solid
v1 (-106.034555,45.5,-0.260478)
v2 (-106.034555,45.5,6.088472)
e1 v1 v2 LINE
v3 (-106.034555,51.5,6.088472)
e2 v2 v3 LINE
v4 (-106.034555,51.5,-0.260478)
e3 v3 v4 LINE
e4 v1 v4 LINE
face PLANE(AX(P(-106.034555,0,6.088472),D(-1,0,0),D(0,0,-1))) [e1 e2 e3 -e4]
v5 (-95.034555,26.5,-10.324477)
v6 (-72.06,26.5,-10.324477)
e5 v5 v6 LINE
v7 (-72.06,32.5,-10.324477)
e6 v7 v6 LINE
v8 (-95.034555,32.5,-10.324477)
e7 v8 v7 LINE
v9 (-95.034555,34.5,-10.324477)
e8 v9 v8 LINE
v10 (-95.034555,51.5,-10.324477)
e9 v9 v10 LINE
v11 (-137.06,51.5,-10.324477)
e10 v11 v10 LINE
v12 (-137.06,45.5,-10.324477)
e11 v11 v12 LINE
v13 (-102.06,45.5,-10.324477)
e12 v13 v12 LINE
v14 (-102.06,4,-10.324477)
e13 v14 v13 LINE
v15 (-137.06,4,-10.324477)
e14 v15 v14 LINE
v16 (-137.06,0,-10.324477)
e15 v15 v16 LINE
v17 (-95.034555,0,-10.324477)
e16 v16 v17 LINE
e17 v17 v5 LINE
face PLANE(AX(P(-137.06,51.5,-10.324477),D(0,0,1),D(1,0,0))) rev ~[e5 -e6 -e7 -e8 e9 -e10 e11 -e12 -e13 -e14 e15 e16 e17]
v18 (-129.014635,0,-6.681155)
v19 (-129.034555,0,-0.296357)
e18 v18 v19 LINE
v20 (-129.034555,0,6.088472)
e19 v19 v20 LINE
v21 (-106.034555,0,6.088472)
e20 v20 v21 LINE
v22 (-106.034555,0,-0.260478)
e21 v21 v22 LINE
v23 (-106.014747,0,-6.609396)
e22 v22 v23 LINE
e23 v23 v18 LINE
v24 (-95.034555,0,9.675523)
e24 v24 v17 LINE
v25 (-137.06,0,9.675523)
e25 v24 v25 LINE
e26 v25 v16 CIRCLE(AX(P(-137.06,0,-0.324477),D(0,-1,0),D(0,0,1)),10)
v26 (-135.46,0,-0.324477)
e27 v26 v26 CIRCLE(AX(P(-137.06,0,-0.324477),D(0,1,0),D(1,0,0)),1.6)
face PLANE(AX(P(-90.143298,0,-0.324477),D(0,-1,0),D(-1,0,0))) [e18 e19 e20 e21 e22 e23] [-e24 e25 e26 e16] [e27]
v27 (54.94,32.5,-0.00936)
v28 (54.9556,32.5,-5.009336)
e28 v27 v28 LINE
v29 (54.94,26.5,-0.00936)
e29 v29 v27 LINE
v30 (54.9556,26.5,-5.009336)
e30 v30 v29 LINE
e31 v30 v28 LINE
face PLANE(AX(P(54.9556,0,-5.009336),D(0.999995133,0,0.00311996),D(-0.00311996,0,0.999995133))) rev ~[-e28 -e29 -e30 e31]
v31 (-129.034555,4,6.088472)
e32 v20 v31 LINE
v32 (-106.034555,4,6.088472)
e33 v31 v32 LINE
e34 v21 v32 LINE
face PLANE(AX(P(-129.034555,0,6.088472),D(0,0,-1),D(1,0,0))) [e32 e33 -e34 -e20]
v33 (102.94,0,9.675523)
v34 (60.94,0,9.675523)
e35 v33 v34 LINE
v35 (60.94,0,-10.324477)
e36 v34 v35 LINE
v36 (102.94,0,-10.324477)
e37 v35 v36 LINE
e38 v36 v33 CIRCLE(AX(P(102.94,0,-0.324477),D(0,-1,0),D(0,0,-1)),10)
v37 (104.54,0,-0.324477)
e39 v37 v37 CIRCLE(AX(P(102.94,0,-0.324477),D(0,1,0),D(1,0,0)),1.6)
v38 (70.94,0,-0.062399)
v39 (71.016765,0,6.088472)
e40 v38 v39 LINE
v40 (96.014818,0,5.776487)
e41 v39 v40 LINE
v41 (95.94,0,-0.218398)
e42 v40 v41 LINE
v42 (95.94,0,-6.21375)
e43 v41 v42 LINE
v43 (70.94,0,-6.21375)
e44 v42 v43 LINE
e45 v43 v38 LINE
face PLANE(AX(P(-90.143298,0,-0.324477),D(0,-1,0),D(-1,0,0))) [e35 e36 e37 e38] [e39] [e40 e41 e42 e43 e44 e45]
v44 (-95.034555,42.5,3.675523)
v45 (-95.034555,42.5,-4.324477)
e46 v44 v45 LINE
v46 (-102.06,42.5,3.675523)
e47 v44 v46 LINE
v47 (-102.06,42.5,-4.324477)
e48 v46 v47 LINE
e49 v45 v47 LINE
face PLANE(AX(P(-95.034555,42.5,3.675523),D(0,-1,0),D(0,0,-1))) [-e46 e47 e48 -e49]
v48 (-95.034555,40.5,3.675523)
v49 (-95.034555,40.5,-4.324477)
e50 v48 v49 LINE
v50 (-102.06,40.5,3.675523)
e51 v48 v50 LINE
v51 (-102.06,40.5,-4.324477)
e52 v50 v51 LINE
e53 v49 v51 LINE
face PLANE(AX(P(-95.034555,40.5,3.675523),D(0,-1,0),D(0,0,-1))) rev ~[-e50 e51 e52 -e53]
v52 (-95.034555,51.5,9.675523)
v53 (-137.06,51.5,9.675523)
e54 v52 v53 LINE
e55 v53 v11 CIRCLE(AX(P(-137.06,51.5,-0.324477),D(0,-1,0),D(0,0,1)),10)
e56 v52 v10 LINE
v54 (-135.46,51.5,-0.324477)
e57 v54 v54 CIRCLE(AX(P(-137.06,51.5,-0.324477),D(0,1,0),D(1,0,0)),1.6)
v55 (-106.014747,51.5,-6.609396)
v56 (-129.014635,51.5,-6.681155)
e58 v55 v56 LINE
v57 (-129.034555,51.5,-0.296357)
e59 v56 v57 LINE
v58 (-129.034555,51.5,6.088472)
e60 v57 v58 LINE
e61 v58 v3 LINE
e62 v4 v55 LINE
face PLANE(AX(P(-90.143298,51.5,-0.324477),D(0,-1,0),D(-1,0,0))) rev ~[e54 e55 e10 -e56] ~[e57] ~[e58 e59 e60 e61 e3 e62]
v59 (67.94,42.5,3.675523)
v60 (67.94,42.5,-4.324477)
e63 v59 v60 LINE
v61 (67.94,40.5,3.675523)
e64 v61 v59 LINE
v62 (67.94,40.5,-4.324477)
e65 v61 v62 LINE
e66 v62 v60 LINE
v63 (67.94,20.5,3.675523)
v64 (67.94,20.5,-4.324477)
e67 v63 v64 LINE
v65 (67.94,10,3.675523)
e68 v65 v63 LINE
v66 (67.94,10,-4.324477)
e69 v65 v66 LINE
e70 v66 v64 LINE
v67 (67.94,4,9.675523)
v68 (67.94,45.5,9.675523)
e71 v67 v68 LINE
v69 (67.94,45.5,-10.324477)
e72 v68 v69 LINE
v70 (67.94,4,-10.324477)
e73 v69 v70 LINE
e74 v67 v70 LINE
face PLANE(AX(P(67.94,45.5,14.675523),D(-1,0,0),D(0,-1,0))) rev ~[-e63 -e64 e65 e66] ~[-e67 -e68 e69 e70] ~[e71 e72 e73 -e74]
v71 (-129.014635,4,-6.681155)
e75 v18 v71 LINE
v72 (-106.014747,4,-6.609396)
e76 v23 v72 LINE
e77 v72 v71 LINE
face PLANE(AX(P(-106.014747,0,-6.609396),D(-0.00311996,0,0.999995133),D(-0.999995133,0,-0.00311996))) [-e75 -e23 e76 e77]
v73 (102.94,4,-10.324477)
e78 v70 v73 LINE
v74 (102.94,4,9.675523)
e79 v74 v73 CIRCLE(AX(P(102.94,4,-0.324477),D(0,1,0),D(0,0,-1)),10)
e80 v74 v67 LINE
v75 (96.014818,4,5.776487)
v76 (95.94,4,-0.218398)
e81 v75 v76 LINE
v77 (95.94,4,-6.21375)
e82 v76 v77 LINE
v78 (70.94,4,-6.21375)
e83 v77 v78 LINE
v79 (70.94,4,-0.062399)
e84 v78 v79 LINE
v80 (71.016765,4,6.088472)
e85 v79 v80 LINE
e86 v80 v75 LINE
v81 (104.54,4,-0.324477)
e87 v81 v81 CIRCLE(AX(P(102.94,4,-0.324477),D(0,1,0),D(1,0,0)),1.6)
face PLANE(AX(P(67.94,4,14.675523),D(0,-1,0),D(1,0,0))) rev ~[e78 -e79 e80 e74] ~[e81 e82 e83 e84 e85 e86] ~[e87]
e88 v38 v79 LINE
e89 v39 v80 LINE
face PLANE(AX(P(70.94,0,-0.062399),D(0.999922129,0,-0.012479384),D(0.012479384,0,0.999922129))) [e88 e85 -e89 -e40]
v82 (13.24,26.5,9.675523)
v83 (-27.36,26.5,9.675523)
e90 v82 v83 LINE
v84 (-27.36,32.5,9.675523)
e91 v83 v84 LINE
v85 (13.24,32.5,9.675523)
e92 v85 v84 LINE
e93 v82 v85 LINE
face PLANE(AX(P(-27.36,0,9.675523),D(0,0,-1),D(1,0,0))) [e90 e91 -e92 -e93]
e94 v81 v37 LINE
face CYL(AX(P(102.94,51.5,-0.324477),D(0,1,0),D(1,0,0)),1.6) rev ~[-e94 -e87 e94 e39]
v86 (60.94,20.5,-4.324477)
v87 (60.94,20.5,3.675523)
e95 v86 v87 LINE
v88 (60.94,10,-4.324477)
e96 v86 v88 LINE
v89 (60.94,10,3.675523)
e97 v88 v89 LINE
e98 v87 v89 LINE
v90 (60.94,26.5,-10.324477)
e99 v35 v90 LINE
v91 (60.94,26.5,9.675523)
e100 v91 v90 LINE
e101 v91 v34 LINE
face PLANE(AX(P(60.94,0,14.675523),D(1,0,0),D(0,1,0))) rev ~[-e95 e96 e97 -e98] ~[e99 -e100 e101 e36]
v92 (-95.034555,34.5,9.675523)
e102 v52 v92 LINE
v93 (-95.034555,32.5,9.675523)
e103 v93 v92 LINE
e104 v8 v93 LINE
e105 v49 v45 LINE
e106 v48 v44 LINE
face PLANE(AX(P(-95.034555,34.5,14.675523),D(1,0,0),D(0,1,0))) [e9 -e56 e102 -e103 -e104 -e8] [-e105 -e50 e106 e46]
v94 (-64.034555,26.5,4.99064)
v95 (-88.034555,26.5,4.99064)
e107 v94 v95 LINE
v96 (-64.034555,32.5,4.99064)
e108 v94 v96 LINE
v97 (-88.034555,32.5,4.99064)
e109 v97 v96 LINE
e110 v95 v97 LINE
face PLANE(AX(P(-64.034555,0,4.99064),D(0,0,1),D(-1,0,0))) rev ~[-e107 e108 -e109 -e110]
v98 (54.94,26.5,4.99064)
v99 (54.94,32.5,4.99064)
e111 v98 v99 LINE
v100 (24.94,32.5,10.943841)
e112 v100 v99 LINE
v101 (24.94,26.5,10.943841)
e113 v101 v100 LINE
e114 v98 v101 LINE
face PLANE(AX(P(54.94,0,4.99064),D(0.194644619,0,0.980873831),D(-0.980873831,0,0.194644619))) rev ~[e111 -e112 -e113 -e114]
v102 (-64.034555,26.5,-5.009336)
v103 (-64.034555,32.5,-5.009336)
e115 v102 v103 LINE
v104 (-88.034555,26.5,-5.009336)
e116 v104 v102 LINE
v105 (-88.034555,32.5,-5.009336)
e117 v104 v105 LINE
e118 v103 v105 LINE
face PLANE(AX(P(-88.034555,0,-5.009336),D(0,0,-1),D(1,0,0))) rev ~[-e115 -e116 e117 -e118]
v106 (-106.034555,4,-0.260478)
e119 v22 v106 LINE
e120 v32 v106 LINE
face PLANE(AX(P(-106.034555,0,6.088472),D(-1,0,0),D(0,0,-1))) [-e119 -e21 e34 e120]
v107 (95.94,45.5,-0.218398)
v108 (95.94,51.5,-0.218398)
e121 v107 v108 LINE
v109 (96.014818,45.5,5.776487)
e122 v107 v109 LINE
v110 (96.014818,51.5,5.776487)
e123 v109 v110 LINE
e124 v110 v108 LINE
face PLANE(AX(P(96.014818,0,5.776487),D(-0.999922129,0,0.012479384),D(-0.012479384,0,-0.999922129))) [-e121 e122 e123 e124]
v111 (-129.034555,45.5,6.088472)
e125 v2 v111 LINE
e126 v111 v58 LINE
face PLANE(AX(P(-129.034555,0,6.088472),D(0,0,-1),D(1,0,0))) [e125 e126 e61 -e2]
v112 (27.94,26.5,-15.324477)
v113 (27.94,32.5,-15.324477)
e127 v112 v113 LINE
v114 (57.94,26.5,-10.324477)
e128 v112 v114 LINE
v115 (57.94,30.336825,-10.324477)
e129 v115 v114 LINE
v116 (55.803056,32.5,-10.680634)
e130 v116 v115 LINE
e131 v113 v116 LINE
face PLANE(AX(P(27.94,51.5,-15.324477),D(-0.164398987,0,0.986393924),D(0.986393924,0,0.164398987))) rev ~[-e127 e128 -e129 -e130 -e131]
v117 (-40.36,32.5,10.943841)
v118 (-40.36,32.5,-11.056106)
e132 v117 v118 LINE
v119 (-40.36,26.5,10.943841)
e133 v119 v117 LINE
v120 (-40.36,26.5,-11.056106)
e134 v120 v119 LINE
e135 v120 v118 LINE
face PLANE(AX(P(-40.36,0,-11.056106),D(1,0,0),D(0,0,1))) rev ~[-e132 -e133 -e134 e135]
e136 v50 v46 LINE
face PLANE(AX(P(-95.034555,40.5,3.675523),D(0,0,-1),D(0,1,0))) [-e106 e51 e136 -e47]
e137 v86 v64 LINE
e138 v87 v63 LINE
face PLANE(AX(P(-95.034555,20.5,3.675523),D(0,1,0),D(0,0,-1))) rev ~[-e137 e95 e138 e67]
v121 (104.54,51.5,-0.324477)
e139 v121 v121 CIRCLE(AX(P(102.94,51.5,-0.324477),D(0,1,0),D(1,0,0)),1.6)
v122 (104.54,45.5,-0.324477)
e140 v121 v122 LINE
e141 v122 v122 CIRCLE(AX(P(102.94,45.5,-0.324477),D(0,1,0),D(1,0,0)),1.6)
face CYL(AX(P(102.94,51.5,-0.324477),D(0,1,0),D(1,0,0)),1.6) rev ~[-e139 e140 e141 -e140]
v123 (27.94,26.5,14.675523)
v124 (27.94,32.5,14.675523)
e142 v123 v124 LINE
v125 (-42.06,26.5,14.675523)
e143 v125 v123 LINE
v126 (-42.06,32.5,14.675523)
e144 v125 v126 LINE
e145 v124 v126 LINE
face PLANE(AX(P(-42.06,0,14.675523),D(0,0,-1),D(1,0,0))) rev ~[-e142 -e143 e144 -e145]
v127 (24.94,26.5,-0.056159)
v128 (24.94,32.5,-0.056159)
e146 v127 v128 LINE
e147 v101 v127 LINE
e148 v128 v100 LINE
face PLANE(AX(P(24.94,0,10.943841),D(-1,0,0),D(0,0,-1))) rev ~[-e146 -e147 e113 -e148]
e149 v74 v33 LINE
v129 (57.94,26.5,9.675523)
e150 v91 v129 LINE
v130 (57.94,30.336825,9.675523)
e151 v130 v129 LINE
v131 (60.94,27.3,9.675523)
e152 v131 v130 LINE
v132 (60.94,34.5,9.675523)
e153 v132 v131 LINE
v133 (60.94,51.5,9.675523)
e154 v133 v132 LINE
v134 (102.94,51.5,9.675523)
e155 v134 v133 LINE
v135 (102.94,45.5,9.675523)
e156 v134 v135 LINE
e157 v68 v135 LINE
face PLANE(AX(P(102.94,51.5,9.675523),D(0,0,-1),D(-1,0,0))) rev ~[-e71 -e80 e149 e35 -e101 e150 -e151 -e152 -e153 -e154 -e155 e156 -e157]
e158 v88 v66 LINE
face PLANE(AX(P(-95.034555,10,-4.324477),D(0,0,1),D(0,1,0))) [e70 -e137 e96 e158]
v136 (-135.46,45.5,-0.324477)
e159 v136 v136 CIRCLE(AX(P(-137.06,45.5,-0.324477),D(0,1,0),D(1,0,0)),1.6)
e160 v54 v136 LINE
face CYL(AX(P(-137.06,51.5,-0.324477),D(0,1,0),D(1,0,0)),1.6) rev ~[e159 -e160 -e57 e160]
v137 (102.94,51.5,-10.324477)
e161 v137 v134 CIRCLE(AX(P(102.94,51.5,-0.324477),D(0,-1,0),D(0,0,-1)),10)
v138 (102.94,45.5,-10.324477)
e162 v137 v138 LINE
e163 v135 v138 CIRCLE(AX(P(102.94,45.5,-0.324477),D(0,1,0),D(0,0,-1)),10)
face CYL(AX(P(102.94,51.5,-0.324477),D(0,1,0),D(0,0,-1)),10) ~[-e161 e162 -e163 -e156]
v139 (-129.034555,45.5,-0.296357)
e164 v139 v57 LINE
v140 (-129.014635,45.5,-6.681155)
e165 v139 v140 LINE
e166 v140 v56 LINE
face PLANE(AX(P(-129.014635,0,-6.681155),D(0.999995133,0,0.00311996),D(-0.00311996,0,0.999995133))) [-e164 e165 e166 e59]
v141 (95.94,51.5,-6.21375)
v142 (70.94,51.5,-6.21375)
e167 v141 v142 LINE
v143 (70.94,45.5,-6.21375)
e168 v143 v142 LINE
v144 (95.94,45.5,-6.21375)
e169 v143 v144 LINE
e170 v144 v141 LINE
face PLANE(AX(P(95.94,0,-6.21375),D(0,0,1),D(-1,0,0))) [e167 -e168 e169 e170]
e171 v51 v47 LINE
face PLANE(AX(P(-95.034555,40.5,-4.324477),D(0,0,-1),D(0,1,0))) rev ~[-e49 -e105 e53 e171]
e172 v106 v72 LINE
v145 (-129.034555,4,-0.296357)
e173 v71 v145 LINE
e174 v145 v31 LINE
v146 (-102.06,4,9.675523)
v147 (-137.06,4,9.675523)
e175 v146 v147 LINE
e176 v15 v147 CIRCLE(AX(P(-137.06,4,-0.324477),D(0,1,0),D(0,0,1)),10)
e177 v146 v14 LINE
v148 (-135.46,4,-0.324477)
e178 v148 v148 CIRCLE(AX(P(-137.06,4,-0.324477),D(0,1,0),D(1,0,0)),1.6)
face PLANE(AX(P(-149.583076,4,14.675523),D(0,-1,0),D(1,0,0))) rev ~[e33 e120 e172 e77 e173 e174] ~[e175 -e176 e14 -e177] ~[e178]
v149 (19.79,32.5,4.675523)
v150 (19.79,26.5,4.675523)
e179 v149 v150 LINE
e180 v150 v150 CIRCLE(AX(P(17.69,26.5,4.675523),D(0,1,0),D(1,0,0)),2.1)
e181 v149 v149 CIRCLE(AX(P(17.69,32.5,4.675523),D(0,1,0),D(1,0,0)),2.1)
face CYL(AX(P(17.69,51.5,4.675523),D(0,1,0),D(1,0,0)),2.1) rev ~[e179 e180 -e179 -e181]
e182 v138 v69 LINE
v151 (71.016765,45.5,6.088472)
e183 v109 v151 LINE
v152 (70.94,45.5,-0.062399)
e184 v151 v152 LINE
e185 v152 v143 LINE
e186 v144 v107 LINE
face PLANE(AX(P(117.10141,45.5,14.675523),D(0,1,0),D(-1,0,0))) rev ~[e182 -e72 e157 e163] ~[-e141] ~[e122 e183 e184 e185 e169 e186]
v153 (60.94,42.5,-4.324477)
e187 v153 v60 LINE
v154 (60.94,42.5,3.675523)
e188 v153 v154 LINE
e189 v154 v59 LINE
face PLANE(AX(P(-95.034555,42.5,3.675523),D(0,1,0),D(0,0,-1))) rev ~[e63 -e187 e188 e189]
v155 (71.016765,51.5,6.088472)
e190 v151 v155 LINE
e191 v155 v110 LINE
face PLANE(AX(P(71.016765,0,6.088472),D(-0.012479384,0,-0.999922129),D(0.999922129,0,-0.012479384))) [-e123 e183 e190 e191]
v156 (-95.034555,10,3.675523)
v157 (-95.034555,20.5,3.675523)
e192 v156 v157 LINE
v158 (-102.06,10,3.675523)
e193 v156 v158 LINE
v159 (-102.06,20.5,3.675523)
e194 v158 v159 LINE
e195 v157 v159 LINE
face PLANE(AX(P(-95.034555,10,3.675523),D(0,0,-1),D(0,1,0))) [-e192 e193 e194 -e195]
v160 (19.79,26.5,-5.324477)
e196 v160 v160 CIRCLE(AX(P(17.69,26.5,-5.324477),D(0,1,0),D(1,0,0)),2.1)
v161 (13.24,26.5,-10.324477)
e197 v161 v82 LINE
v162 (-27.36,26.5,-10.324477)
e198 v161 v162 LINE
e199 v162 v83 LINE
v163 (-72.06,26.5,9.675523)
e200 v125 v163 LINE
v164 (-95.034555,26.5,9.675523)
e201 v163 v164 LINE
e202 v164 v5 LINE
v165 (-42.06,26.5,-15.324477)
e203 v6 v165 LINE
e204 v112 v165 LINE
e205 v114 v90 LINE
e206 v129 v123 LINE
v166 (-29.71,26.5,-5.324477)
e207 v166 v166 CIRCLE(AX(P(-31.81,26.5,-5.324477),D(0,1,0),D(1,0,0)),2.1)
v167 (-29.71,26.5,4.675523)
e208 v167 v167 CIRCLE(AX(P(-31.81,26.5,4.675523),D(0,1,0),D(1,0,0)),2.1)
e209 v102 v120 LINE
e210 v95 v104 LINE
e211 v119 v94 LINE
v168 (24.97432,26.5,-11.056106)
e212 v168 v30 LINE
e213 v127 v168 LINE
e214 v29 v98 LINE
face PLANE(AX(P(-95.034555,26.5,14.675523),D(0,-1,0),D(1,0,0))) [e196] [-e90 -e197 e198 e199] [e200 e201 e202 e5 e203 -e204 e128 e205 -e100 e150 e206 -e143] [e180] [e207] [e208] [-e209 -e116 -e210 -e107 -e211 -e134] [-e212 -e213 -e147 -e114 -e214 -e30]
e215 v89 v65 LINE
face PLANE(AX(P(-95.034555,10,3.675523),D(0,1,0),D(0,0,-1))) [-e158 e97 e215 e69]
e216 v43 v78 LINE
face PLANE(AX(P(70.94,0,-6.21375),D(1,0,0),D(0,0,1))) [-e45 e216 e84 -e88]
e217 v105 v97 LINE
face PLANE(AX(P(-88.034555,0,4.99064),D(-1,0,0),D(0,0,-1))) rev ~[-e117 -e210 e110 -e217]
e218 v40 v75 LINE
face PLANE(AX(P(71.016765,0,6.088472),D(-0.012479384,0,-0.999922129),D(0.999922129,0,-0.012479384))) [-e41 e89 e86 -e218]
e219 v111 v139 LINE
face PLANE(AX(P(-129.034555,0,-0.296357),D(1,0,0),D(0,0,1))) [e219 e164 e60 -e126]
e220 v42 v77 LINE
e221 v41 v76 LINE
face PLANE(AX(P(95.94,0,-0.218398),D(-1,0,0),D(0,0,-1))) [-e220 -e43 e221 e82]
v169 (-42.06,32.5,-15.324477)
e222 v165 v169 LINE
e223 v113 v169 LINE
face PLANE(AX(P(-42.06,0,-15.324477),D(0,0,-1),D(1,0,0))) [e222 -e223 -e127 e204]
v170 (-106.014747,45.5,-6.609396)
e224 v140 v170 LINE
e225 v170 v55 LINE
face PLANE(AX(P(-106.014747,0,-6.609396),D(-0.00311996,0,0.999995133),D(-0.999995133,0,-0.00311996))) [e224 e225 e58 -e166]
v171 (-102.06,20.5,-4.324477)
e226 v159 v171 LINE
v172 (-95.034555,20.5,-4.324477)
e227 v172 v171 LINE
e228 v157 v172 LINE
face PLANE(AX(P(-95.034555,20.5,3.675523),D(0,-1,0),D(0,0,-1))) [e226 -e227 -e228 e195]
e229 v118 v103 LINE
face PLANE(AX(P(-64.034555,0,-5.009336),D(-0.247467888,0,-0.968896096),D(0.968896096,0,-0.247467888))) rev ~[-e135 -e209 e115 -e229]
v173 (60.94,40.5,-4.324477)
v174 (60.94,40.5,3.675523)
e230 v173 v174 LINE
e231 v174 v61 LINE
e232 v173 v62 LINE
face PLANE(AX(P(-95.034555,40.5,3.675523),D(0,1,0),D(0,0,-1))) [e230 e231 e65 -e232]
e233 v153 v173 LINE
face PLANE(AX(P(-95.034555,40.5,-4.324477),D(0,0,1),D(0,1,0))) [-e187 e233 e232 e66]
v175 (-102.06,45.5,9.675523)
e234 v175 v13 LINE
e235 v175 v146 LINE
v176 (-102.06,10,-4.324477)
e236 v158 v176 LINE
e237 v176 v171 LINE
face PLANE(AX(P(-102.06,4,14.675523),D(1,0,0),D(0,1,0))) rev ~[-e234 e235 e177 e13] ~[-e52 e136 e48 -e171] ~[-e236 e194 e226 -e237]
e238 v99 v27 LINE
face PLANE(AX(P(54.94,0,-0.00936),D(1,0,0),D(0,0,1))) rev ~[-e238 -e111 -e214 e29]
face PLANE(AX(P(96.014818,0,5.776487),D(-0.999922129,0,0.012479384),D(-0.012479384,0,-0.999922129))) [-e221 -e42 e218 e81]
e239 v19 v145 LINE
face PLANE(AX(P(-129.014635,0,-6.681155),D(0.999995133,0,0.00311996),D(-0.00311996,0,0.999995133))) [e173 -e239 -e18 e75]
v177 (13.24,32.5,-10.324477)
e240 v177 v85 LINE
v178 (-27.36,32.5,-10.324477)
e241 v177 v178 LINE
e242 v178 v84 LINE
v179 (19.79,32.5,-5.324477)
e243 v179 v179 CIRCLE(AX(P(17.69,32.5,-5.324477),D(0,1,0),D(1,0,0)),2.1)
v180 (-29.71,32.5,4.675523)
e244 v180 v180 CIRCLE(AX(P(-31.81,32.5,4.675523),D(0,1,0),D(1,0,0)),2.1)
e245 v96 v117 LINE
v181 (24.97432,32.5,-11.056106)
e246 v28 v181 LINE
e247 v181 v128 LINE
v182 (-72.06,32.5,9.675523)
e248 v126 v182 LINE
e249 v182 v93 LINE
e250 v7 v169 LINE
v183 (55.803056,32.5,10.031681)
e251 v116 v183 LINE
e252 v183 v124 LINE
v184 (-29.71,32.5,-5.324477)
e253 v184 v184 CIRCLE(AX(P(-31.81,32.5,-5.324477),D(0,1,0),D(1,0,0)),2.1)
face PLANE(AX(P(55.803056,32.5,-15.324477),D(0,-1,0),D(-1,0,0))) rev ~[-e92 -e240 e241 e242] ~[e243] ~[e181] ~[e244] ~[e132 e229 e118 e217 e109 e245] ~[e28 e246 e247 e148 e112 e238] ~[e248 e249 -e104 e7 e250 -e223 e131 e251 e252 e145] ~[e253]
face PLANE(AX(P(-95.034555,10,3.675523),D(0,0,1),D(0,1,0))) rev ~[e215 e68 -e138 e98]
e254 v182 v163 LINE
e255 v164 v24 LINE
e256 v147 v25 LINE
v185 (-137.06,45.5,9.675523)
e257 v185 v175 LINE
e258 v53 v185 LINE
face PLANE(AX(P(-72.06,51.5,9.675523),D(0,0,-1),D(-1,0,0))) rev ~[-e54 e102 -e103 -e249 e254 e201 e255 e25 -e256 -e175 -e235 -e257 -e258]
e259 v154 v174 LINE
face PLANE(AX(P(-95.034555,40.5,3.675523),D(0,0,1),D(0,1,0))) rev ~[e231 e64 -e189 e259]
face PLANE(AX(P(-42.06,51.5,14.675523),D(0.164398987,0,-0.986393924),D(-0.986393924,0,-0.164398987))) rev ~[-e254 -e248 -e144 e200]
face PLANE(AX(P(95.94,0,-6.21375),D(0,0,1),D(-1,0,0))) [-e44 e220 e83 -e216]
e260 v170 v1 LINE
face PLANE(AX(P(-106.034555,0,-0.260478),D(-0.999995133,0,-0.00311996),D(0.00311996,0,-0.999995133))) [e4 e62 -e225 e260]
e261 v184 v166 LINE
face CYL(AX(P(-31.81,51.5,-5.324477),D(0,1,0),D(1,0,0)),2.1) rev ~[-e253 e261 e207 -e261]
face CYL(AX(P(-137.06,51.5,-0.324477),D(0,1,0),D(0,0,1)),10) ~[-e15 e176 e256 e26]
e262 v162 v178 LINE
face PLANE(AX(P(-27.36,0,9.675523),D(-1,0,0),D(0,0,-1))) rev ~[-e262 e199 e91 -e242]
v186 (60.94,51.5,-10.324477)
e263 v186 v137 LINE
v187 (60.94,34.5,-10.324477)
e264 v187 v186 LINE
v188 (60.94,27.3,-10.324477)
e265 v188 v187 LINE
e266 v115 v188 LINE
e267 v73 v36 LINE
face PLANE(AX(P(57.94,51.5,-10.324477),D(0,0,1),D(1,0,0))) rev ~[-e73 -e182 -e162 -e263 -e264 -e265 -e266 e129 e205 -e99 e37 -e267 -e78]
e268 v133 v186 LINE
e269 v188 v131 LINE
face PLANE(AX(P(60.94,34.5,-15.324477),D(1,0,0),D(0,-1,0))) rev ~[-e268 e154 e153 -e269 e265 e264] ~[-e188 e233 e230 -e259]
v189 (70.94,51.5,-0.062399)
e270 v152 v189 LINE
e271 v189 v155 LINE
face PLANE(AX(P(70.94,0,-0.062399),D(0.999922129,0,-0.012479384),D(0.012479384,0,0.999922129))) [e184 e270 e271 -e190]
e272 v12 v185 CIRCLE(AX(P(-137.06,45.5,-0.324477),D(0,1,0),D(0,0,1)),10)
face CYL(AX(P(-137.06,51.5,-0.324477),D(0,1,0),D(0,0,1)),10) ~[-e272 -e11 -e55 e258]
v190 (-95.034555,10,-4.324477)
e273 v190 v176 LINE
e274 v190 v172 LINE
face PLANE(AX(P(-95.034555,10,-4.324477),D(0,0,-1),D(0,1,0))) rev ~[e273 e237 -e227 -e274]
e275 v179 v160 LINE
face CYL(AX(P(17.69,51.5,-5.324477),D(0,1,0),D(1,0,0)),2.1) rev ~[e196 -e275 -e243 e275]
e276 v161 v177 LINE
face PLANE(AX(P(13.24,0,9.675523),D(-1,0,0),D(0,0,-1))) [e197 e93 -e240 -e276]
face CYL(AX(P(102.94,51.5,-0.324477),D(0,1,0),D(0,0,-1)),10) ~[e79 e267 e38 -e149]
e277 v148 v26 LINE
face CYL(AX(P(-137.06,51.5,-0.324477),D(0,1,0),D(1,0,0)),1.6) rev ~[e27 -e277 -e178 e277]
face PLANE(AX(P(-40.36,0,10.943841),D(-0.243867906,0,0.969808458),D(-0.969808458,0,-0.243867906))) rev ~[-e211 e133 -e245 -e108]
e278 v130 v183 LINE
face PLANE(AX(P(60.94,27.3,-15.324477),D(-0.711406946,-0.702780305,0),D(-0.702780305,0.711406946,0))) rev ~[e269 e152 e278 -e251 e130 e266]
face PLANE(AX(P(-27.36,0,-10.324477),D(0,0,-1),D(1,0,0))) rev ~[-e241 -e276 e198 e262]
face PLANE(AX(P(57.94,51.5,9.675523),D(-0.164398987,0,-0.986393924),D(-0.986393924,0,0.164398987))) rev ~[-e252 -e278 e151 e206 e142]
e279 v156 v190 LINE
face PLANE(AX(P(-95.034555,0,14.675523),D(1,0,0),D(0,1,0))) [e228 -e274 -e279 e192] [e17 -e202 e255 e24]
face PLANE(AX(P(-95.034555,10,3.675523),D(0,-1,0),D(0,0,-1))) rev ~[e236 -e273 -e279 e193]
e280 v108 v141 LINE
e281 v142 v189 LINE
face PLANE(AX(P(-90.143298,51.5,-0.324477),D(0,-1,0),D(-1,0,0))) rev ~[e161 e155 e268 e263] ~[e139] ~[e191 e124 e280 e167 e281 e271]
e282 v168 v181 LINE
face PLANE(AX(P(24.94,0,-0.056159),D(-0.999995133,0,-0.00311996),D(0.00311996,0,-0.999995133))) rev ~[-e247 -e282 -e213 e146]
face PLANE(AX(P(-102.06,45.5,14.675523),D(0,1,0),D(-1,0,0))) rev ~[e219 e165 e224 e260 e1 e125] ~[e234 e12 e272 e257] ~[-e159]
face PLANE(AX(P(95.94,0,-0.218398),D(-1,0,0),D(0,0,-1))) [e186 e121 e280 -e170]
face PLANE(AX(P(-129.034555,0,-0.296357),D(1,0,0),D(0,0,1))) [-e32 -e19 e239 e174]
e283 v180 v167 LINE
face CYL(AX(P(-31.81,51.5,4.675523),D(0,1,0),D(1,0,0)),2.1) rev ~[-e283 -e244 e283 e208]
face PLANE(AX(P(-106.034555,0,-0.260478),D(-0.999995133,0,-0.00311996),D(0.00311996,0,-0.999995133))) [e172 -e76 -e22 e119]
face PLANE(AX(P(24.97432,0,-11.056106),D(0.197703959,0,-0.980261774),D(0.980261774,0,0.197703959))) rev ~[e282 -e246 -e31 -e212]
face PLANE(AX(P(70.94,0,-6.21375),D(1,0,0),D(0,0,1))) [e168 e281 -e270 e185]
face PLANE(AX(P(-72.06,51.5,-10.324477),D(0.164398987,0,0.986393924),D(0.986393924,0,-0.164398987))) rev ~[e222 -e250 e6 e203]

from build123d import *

# Parameters (mm, degrees)
SKETCH_1_W                = 70
SKETCH_1_H                = 30
SKETCH_1_W_2              = 40.6
SKETCH_1_H_2              = 20
EXTRUDE_1_DEPTH           = 51.5
SKETCH_2_R                = 2.1
CUT_EXTRUDE_1_DEPTH       = 52.5
SKETCH_3_R                = 1.6
EXTRUDE_2_DEPTH           = 51.5
SKETCH_17_W               = 155.974555081
SKETCH_17_H               = 17
SKETCH_17_H_2             = 26.5
CUT_EXTRUDE_8_DEPTH       = 31
CUT_EXTRUDE_9_DEPTH       = 52.5
SKETCH_20_W               = 8
SKETCH_20_H               = 10.5
SKETCH_20_H_2             = 2
CUT_EXTRUDE_10_DEPTH      = 208.974555081
CUT_EXTRUDE_10_DEPTH_BACK = 53.025444919
CUT_EXTRUDE_11_DEPTH      = 31


with BuildPart() as part:
    # 草图1 → 凸台-拉伸1 (new body)
    with BuildSketch(Plane(origin=(0, 0, 0), x_dir=(1, 0, 0), z_dir=(0, 1, 0))):
        with Locations((-7.06, 0.32447662)):
            Rectangle(SKETCH_1_W, SKETCH_1_H)
        with Locations((-7.06, 0.32447662)):
            Rectangle(SKETCH_1_W_2, SKETCH_1_H_2, mode=Mode.SUBTRACT)
    extrude(amount=EXTRUDE_1_DEPTH)

    # 草图2 → 切除-拉伸1 (cut, through all)
    with BuildSketch(Plane(origin=(0, 51.5, 0), x_dir=(1, 0, 0), z_dir=(0, 1, 0))):
        with Locations((-31.81, 5.32447662)):
            Circle(SKETCH_2_R)
        with Locations((-31.81, -4.67552338)):
            Circle(SKETCH_2_R)
        with Locations((17.69, -4.67552338)):
            Circle(SKETCH_2_R)
        with Locations((17.69, 5.32447662)):
            Circle(SKETCH_2_R)
    extrude(amount=-CUT_EXTRUDE_1_DEPTH, mode=Mode.SUBTRACT)

    # 草图3 → 凸台-拉伸2 (add)
    with BuildSketch(Plane(origin=(0, 51.5, 0), x_dir=(1, 0, 0), z_dir=(0, 1, 0))):
        with BuildLine():
            Line((-137.06, 10.32447662), (-72.06, 10.32447662))
            Line((-72.06, 10.32447662), (-42.06, 15.32447662))
            Line((-42.06, 15.32447662), (-42.06, -14.67552338))
            Line((-42.06, -14.67552338), (-72.06, -9.67552338))
            Line((-72.06, -9.67552338), (-137.06, -9.67552338))
            ThreePointArc((-137.06, -9.67552338), (-147.06, 0.32447662), (-137.06, 10.32447662))
        make_face()
        with Locations((-137.06, 0.32447662)):
            Circle(SKETCH_3_R, mode=Mode.SUBTRACT)
        with BuildLine():
            Line((57.94, 10.32447662), (102.94, 10.32447662))
            ThreePointArc((102.94, 10.32447662), (112.94, 0.32447662), (102.94, -9.67552338))
            Line((102.94, -9.67552338), (57.94, -9.67552338))
            Line((57.94, -9.67552338), (27.94, -14.67552338))
            Line((27.94, -14.67552338), (27.94, 15.32447662))
            Line((27.94, 15.32447662), (57.94, 10.32447662))
        make_face()
        with Locations((102.94, 0.32447662)):
            Circle(SKETCH_3_R, mode=Mode.SUBTRACT)
    extrude(amount=-EXTRUDE_2_DEPTH)

    # 草图17 → 切除-拉伸8 (cut, through all)
    with BuildSketch(Plane.XY.offset(14.67552338)):
        Polygon((112.94, 45.5), (67.94, 45.5), (67.94, 4), (112.94, 4), (117.101410497, 4), (117.101410497, 45.5), align=None)
        Polygon((-147.034555081, 45.5), (-117.034555081, 45.5), (-102.06, 45.5), (-102.06, 25.5), (-102.06, 4), (-117.034555081, 4), (-147.06, 4), (-149.583075769, 4), (-149.583075769, 45.5), align=None)
        with Locations((-17.047277541, 43)):
            Rectangle(SKETCH_17_W, SKETCH_17_H)
        with Locations((-17.047277541, 13.25)):
            Rectangle(SKETCH_17_W, SKETCH_17_H_2)
    extrude(amount=-CUT_EXTRUDE_8_DEPTH, mode=Mode.SUBTRACT)

    # 草图18 → 切除-拉伸9 (cut, through all)
    with BuildSketch(Plane.XZ):
        Polygon((70.94, -6.21374951), (70.94, -0.06239935), (71.016765061, 6.088471801), (96.014818298, 5.776487199), (95.94, -0.218397725), (95.94, -6.21374951), align=None)
        Polygon((-64.034555081, 4.990640098), (-88.034555081, 4.990640098), (-88.034555081, -5.009335567), (-64.034555081, -5.009335567), (-40.36, -11.056105877), (-40.36, 10.943840585), align=None)
        Polygon((54.94, -0.009359902), (54.94, 4.990640098), (24.94, 10.943840585), (24.94, -0.056159415), (24.974319559, -11.056105877), (54.9555998, -5.009335567), align=None)
        Polygon((-106.034555081, 6.088471801), (-106.034555081, -0.260477592), (-106.014746613, -6.609396085), (-129.01463467, -6.681155163), (-129.034555081, -0.296357219), (-129.034555081, 6.088471801), align=None)
    extrude(amount=-CUT_EXTRUDE_9_DEPTH, mode=Mode.SUBTRACT)

    # 草图20 → 切除-拉伸10 (cut, two sides)
    with BuildSketch(Plane(origin=(-95.034555081, 0, 0), x_dir=(0, 0, -1), z_dir=(1, 0, 0))) as cut_extrude_10_sk:
        with Locations((0.32447662, 15.25)):
            Rectangle(SKETCH_20_W, SKETCH_20_H)
        with Locations((0.32447662, 41.5)):
            Rectangle(SKETCH_20_W, SKETCH_20_H_2)
    extrude(amount=CUT_EXTRUDE_10_DEPTH, mode=Mode.SUBTRACT)
    extrude(cut_extrude_10_sk.sketch, amount=-CUT_EXTRUDE_10_DEPTH_BACK, mode=Mode.SUBTRACT)

    # 草图21 → 切除-拉伸11 (cut, through all)
    with BuildSketch(Plane(origin=(0, 0, -15.32447662), x_dir=(-1, 0, 0), z_dir=(0, 0, -1))):
        Polygon((-55.803056083, 32.5), (94.924677091, 32.5), (95.034555081, 32.5), (95.034555081, 34.5), (88.034555081, 34.5), (-60.94, 34.5), (-60.94, 27.3), align=None)
    extrude(amount=-CUT_EXTRUDE_11_DEPTH, mode=Mode.SUBTRACT)


solid = part.part
